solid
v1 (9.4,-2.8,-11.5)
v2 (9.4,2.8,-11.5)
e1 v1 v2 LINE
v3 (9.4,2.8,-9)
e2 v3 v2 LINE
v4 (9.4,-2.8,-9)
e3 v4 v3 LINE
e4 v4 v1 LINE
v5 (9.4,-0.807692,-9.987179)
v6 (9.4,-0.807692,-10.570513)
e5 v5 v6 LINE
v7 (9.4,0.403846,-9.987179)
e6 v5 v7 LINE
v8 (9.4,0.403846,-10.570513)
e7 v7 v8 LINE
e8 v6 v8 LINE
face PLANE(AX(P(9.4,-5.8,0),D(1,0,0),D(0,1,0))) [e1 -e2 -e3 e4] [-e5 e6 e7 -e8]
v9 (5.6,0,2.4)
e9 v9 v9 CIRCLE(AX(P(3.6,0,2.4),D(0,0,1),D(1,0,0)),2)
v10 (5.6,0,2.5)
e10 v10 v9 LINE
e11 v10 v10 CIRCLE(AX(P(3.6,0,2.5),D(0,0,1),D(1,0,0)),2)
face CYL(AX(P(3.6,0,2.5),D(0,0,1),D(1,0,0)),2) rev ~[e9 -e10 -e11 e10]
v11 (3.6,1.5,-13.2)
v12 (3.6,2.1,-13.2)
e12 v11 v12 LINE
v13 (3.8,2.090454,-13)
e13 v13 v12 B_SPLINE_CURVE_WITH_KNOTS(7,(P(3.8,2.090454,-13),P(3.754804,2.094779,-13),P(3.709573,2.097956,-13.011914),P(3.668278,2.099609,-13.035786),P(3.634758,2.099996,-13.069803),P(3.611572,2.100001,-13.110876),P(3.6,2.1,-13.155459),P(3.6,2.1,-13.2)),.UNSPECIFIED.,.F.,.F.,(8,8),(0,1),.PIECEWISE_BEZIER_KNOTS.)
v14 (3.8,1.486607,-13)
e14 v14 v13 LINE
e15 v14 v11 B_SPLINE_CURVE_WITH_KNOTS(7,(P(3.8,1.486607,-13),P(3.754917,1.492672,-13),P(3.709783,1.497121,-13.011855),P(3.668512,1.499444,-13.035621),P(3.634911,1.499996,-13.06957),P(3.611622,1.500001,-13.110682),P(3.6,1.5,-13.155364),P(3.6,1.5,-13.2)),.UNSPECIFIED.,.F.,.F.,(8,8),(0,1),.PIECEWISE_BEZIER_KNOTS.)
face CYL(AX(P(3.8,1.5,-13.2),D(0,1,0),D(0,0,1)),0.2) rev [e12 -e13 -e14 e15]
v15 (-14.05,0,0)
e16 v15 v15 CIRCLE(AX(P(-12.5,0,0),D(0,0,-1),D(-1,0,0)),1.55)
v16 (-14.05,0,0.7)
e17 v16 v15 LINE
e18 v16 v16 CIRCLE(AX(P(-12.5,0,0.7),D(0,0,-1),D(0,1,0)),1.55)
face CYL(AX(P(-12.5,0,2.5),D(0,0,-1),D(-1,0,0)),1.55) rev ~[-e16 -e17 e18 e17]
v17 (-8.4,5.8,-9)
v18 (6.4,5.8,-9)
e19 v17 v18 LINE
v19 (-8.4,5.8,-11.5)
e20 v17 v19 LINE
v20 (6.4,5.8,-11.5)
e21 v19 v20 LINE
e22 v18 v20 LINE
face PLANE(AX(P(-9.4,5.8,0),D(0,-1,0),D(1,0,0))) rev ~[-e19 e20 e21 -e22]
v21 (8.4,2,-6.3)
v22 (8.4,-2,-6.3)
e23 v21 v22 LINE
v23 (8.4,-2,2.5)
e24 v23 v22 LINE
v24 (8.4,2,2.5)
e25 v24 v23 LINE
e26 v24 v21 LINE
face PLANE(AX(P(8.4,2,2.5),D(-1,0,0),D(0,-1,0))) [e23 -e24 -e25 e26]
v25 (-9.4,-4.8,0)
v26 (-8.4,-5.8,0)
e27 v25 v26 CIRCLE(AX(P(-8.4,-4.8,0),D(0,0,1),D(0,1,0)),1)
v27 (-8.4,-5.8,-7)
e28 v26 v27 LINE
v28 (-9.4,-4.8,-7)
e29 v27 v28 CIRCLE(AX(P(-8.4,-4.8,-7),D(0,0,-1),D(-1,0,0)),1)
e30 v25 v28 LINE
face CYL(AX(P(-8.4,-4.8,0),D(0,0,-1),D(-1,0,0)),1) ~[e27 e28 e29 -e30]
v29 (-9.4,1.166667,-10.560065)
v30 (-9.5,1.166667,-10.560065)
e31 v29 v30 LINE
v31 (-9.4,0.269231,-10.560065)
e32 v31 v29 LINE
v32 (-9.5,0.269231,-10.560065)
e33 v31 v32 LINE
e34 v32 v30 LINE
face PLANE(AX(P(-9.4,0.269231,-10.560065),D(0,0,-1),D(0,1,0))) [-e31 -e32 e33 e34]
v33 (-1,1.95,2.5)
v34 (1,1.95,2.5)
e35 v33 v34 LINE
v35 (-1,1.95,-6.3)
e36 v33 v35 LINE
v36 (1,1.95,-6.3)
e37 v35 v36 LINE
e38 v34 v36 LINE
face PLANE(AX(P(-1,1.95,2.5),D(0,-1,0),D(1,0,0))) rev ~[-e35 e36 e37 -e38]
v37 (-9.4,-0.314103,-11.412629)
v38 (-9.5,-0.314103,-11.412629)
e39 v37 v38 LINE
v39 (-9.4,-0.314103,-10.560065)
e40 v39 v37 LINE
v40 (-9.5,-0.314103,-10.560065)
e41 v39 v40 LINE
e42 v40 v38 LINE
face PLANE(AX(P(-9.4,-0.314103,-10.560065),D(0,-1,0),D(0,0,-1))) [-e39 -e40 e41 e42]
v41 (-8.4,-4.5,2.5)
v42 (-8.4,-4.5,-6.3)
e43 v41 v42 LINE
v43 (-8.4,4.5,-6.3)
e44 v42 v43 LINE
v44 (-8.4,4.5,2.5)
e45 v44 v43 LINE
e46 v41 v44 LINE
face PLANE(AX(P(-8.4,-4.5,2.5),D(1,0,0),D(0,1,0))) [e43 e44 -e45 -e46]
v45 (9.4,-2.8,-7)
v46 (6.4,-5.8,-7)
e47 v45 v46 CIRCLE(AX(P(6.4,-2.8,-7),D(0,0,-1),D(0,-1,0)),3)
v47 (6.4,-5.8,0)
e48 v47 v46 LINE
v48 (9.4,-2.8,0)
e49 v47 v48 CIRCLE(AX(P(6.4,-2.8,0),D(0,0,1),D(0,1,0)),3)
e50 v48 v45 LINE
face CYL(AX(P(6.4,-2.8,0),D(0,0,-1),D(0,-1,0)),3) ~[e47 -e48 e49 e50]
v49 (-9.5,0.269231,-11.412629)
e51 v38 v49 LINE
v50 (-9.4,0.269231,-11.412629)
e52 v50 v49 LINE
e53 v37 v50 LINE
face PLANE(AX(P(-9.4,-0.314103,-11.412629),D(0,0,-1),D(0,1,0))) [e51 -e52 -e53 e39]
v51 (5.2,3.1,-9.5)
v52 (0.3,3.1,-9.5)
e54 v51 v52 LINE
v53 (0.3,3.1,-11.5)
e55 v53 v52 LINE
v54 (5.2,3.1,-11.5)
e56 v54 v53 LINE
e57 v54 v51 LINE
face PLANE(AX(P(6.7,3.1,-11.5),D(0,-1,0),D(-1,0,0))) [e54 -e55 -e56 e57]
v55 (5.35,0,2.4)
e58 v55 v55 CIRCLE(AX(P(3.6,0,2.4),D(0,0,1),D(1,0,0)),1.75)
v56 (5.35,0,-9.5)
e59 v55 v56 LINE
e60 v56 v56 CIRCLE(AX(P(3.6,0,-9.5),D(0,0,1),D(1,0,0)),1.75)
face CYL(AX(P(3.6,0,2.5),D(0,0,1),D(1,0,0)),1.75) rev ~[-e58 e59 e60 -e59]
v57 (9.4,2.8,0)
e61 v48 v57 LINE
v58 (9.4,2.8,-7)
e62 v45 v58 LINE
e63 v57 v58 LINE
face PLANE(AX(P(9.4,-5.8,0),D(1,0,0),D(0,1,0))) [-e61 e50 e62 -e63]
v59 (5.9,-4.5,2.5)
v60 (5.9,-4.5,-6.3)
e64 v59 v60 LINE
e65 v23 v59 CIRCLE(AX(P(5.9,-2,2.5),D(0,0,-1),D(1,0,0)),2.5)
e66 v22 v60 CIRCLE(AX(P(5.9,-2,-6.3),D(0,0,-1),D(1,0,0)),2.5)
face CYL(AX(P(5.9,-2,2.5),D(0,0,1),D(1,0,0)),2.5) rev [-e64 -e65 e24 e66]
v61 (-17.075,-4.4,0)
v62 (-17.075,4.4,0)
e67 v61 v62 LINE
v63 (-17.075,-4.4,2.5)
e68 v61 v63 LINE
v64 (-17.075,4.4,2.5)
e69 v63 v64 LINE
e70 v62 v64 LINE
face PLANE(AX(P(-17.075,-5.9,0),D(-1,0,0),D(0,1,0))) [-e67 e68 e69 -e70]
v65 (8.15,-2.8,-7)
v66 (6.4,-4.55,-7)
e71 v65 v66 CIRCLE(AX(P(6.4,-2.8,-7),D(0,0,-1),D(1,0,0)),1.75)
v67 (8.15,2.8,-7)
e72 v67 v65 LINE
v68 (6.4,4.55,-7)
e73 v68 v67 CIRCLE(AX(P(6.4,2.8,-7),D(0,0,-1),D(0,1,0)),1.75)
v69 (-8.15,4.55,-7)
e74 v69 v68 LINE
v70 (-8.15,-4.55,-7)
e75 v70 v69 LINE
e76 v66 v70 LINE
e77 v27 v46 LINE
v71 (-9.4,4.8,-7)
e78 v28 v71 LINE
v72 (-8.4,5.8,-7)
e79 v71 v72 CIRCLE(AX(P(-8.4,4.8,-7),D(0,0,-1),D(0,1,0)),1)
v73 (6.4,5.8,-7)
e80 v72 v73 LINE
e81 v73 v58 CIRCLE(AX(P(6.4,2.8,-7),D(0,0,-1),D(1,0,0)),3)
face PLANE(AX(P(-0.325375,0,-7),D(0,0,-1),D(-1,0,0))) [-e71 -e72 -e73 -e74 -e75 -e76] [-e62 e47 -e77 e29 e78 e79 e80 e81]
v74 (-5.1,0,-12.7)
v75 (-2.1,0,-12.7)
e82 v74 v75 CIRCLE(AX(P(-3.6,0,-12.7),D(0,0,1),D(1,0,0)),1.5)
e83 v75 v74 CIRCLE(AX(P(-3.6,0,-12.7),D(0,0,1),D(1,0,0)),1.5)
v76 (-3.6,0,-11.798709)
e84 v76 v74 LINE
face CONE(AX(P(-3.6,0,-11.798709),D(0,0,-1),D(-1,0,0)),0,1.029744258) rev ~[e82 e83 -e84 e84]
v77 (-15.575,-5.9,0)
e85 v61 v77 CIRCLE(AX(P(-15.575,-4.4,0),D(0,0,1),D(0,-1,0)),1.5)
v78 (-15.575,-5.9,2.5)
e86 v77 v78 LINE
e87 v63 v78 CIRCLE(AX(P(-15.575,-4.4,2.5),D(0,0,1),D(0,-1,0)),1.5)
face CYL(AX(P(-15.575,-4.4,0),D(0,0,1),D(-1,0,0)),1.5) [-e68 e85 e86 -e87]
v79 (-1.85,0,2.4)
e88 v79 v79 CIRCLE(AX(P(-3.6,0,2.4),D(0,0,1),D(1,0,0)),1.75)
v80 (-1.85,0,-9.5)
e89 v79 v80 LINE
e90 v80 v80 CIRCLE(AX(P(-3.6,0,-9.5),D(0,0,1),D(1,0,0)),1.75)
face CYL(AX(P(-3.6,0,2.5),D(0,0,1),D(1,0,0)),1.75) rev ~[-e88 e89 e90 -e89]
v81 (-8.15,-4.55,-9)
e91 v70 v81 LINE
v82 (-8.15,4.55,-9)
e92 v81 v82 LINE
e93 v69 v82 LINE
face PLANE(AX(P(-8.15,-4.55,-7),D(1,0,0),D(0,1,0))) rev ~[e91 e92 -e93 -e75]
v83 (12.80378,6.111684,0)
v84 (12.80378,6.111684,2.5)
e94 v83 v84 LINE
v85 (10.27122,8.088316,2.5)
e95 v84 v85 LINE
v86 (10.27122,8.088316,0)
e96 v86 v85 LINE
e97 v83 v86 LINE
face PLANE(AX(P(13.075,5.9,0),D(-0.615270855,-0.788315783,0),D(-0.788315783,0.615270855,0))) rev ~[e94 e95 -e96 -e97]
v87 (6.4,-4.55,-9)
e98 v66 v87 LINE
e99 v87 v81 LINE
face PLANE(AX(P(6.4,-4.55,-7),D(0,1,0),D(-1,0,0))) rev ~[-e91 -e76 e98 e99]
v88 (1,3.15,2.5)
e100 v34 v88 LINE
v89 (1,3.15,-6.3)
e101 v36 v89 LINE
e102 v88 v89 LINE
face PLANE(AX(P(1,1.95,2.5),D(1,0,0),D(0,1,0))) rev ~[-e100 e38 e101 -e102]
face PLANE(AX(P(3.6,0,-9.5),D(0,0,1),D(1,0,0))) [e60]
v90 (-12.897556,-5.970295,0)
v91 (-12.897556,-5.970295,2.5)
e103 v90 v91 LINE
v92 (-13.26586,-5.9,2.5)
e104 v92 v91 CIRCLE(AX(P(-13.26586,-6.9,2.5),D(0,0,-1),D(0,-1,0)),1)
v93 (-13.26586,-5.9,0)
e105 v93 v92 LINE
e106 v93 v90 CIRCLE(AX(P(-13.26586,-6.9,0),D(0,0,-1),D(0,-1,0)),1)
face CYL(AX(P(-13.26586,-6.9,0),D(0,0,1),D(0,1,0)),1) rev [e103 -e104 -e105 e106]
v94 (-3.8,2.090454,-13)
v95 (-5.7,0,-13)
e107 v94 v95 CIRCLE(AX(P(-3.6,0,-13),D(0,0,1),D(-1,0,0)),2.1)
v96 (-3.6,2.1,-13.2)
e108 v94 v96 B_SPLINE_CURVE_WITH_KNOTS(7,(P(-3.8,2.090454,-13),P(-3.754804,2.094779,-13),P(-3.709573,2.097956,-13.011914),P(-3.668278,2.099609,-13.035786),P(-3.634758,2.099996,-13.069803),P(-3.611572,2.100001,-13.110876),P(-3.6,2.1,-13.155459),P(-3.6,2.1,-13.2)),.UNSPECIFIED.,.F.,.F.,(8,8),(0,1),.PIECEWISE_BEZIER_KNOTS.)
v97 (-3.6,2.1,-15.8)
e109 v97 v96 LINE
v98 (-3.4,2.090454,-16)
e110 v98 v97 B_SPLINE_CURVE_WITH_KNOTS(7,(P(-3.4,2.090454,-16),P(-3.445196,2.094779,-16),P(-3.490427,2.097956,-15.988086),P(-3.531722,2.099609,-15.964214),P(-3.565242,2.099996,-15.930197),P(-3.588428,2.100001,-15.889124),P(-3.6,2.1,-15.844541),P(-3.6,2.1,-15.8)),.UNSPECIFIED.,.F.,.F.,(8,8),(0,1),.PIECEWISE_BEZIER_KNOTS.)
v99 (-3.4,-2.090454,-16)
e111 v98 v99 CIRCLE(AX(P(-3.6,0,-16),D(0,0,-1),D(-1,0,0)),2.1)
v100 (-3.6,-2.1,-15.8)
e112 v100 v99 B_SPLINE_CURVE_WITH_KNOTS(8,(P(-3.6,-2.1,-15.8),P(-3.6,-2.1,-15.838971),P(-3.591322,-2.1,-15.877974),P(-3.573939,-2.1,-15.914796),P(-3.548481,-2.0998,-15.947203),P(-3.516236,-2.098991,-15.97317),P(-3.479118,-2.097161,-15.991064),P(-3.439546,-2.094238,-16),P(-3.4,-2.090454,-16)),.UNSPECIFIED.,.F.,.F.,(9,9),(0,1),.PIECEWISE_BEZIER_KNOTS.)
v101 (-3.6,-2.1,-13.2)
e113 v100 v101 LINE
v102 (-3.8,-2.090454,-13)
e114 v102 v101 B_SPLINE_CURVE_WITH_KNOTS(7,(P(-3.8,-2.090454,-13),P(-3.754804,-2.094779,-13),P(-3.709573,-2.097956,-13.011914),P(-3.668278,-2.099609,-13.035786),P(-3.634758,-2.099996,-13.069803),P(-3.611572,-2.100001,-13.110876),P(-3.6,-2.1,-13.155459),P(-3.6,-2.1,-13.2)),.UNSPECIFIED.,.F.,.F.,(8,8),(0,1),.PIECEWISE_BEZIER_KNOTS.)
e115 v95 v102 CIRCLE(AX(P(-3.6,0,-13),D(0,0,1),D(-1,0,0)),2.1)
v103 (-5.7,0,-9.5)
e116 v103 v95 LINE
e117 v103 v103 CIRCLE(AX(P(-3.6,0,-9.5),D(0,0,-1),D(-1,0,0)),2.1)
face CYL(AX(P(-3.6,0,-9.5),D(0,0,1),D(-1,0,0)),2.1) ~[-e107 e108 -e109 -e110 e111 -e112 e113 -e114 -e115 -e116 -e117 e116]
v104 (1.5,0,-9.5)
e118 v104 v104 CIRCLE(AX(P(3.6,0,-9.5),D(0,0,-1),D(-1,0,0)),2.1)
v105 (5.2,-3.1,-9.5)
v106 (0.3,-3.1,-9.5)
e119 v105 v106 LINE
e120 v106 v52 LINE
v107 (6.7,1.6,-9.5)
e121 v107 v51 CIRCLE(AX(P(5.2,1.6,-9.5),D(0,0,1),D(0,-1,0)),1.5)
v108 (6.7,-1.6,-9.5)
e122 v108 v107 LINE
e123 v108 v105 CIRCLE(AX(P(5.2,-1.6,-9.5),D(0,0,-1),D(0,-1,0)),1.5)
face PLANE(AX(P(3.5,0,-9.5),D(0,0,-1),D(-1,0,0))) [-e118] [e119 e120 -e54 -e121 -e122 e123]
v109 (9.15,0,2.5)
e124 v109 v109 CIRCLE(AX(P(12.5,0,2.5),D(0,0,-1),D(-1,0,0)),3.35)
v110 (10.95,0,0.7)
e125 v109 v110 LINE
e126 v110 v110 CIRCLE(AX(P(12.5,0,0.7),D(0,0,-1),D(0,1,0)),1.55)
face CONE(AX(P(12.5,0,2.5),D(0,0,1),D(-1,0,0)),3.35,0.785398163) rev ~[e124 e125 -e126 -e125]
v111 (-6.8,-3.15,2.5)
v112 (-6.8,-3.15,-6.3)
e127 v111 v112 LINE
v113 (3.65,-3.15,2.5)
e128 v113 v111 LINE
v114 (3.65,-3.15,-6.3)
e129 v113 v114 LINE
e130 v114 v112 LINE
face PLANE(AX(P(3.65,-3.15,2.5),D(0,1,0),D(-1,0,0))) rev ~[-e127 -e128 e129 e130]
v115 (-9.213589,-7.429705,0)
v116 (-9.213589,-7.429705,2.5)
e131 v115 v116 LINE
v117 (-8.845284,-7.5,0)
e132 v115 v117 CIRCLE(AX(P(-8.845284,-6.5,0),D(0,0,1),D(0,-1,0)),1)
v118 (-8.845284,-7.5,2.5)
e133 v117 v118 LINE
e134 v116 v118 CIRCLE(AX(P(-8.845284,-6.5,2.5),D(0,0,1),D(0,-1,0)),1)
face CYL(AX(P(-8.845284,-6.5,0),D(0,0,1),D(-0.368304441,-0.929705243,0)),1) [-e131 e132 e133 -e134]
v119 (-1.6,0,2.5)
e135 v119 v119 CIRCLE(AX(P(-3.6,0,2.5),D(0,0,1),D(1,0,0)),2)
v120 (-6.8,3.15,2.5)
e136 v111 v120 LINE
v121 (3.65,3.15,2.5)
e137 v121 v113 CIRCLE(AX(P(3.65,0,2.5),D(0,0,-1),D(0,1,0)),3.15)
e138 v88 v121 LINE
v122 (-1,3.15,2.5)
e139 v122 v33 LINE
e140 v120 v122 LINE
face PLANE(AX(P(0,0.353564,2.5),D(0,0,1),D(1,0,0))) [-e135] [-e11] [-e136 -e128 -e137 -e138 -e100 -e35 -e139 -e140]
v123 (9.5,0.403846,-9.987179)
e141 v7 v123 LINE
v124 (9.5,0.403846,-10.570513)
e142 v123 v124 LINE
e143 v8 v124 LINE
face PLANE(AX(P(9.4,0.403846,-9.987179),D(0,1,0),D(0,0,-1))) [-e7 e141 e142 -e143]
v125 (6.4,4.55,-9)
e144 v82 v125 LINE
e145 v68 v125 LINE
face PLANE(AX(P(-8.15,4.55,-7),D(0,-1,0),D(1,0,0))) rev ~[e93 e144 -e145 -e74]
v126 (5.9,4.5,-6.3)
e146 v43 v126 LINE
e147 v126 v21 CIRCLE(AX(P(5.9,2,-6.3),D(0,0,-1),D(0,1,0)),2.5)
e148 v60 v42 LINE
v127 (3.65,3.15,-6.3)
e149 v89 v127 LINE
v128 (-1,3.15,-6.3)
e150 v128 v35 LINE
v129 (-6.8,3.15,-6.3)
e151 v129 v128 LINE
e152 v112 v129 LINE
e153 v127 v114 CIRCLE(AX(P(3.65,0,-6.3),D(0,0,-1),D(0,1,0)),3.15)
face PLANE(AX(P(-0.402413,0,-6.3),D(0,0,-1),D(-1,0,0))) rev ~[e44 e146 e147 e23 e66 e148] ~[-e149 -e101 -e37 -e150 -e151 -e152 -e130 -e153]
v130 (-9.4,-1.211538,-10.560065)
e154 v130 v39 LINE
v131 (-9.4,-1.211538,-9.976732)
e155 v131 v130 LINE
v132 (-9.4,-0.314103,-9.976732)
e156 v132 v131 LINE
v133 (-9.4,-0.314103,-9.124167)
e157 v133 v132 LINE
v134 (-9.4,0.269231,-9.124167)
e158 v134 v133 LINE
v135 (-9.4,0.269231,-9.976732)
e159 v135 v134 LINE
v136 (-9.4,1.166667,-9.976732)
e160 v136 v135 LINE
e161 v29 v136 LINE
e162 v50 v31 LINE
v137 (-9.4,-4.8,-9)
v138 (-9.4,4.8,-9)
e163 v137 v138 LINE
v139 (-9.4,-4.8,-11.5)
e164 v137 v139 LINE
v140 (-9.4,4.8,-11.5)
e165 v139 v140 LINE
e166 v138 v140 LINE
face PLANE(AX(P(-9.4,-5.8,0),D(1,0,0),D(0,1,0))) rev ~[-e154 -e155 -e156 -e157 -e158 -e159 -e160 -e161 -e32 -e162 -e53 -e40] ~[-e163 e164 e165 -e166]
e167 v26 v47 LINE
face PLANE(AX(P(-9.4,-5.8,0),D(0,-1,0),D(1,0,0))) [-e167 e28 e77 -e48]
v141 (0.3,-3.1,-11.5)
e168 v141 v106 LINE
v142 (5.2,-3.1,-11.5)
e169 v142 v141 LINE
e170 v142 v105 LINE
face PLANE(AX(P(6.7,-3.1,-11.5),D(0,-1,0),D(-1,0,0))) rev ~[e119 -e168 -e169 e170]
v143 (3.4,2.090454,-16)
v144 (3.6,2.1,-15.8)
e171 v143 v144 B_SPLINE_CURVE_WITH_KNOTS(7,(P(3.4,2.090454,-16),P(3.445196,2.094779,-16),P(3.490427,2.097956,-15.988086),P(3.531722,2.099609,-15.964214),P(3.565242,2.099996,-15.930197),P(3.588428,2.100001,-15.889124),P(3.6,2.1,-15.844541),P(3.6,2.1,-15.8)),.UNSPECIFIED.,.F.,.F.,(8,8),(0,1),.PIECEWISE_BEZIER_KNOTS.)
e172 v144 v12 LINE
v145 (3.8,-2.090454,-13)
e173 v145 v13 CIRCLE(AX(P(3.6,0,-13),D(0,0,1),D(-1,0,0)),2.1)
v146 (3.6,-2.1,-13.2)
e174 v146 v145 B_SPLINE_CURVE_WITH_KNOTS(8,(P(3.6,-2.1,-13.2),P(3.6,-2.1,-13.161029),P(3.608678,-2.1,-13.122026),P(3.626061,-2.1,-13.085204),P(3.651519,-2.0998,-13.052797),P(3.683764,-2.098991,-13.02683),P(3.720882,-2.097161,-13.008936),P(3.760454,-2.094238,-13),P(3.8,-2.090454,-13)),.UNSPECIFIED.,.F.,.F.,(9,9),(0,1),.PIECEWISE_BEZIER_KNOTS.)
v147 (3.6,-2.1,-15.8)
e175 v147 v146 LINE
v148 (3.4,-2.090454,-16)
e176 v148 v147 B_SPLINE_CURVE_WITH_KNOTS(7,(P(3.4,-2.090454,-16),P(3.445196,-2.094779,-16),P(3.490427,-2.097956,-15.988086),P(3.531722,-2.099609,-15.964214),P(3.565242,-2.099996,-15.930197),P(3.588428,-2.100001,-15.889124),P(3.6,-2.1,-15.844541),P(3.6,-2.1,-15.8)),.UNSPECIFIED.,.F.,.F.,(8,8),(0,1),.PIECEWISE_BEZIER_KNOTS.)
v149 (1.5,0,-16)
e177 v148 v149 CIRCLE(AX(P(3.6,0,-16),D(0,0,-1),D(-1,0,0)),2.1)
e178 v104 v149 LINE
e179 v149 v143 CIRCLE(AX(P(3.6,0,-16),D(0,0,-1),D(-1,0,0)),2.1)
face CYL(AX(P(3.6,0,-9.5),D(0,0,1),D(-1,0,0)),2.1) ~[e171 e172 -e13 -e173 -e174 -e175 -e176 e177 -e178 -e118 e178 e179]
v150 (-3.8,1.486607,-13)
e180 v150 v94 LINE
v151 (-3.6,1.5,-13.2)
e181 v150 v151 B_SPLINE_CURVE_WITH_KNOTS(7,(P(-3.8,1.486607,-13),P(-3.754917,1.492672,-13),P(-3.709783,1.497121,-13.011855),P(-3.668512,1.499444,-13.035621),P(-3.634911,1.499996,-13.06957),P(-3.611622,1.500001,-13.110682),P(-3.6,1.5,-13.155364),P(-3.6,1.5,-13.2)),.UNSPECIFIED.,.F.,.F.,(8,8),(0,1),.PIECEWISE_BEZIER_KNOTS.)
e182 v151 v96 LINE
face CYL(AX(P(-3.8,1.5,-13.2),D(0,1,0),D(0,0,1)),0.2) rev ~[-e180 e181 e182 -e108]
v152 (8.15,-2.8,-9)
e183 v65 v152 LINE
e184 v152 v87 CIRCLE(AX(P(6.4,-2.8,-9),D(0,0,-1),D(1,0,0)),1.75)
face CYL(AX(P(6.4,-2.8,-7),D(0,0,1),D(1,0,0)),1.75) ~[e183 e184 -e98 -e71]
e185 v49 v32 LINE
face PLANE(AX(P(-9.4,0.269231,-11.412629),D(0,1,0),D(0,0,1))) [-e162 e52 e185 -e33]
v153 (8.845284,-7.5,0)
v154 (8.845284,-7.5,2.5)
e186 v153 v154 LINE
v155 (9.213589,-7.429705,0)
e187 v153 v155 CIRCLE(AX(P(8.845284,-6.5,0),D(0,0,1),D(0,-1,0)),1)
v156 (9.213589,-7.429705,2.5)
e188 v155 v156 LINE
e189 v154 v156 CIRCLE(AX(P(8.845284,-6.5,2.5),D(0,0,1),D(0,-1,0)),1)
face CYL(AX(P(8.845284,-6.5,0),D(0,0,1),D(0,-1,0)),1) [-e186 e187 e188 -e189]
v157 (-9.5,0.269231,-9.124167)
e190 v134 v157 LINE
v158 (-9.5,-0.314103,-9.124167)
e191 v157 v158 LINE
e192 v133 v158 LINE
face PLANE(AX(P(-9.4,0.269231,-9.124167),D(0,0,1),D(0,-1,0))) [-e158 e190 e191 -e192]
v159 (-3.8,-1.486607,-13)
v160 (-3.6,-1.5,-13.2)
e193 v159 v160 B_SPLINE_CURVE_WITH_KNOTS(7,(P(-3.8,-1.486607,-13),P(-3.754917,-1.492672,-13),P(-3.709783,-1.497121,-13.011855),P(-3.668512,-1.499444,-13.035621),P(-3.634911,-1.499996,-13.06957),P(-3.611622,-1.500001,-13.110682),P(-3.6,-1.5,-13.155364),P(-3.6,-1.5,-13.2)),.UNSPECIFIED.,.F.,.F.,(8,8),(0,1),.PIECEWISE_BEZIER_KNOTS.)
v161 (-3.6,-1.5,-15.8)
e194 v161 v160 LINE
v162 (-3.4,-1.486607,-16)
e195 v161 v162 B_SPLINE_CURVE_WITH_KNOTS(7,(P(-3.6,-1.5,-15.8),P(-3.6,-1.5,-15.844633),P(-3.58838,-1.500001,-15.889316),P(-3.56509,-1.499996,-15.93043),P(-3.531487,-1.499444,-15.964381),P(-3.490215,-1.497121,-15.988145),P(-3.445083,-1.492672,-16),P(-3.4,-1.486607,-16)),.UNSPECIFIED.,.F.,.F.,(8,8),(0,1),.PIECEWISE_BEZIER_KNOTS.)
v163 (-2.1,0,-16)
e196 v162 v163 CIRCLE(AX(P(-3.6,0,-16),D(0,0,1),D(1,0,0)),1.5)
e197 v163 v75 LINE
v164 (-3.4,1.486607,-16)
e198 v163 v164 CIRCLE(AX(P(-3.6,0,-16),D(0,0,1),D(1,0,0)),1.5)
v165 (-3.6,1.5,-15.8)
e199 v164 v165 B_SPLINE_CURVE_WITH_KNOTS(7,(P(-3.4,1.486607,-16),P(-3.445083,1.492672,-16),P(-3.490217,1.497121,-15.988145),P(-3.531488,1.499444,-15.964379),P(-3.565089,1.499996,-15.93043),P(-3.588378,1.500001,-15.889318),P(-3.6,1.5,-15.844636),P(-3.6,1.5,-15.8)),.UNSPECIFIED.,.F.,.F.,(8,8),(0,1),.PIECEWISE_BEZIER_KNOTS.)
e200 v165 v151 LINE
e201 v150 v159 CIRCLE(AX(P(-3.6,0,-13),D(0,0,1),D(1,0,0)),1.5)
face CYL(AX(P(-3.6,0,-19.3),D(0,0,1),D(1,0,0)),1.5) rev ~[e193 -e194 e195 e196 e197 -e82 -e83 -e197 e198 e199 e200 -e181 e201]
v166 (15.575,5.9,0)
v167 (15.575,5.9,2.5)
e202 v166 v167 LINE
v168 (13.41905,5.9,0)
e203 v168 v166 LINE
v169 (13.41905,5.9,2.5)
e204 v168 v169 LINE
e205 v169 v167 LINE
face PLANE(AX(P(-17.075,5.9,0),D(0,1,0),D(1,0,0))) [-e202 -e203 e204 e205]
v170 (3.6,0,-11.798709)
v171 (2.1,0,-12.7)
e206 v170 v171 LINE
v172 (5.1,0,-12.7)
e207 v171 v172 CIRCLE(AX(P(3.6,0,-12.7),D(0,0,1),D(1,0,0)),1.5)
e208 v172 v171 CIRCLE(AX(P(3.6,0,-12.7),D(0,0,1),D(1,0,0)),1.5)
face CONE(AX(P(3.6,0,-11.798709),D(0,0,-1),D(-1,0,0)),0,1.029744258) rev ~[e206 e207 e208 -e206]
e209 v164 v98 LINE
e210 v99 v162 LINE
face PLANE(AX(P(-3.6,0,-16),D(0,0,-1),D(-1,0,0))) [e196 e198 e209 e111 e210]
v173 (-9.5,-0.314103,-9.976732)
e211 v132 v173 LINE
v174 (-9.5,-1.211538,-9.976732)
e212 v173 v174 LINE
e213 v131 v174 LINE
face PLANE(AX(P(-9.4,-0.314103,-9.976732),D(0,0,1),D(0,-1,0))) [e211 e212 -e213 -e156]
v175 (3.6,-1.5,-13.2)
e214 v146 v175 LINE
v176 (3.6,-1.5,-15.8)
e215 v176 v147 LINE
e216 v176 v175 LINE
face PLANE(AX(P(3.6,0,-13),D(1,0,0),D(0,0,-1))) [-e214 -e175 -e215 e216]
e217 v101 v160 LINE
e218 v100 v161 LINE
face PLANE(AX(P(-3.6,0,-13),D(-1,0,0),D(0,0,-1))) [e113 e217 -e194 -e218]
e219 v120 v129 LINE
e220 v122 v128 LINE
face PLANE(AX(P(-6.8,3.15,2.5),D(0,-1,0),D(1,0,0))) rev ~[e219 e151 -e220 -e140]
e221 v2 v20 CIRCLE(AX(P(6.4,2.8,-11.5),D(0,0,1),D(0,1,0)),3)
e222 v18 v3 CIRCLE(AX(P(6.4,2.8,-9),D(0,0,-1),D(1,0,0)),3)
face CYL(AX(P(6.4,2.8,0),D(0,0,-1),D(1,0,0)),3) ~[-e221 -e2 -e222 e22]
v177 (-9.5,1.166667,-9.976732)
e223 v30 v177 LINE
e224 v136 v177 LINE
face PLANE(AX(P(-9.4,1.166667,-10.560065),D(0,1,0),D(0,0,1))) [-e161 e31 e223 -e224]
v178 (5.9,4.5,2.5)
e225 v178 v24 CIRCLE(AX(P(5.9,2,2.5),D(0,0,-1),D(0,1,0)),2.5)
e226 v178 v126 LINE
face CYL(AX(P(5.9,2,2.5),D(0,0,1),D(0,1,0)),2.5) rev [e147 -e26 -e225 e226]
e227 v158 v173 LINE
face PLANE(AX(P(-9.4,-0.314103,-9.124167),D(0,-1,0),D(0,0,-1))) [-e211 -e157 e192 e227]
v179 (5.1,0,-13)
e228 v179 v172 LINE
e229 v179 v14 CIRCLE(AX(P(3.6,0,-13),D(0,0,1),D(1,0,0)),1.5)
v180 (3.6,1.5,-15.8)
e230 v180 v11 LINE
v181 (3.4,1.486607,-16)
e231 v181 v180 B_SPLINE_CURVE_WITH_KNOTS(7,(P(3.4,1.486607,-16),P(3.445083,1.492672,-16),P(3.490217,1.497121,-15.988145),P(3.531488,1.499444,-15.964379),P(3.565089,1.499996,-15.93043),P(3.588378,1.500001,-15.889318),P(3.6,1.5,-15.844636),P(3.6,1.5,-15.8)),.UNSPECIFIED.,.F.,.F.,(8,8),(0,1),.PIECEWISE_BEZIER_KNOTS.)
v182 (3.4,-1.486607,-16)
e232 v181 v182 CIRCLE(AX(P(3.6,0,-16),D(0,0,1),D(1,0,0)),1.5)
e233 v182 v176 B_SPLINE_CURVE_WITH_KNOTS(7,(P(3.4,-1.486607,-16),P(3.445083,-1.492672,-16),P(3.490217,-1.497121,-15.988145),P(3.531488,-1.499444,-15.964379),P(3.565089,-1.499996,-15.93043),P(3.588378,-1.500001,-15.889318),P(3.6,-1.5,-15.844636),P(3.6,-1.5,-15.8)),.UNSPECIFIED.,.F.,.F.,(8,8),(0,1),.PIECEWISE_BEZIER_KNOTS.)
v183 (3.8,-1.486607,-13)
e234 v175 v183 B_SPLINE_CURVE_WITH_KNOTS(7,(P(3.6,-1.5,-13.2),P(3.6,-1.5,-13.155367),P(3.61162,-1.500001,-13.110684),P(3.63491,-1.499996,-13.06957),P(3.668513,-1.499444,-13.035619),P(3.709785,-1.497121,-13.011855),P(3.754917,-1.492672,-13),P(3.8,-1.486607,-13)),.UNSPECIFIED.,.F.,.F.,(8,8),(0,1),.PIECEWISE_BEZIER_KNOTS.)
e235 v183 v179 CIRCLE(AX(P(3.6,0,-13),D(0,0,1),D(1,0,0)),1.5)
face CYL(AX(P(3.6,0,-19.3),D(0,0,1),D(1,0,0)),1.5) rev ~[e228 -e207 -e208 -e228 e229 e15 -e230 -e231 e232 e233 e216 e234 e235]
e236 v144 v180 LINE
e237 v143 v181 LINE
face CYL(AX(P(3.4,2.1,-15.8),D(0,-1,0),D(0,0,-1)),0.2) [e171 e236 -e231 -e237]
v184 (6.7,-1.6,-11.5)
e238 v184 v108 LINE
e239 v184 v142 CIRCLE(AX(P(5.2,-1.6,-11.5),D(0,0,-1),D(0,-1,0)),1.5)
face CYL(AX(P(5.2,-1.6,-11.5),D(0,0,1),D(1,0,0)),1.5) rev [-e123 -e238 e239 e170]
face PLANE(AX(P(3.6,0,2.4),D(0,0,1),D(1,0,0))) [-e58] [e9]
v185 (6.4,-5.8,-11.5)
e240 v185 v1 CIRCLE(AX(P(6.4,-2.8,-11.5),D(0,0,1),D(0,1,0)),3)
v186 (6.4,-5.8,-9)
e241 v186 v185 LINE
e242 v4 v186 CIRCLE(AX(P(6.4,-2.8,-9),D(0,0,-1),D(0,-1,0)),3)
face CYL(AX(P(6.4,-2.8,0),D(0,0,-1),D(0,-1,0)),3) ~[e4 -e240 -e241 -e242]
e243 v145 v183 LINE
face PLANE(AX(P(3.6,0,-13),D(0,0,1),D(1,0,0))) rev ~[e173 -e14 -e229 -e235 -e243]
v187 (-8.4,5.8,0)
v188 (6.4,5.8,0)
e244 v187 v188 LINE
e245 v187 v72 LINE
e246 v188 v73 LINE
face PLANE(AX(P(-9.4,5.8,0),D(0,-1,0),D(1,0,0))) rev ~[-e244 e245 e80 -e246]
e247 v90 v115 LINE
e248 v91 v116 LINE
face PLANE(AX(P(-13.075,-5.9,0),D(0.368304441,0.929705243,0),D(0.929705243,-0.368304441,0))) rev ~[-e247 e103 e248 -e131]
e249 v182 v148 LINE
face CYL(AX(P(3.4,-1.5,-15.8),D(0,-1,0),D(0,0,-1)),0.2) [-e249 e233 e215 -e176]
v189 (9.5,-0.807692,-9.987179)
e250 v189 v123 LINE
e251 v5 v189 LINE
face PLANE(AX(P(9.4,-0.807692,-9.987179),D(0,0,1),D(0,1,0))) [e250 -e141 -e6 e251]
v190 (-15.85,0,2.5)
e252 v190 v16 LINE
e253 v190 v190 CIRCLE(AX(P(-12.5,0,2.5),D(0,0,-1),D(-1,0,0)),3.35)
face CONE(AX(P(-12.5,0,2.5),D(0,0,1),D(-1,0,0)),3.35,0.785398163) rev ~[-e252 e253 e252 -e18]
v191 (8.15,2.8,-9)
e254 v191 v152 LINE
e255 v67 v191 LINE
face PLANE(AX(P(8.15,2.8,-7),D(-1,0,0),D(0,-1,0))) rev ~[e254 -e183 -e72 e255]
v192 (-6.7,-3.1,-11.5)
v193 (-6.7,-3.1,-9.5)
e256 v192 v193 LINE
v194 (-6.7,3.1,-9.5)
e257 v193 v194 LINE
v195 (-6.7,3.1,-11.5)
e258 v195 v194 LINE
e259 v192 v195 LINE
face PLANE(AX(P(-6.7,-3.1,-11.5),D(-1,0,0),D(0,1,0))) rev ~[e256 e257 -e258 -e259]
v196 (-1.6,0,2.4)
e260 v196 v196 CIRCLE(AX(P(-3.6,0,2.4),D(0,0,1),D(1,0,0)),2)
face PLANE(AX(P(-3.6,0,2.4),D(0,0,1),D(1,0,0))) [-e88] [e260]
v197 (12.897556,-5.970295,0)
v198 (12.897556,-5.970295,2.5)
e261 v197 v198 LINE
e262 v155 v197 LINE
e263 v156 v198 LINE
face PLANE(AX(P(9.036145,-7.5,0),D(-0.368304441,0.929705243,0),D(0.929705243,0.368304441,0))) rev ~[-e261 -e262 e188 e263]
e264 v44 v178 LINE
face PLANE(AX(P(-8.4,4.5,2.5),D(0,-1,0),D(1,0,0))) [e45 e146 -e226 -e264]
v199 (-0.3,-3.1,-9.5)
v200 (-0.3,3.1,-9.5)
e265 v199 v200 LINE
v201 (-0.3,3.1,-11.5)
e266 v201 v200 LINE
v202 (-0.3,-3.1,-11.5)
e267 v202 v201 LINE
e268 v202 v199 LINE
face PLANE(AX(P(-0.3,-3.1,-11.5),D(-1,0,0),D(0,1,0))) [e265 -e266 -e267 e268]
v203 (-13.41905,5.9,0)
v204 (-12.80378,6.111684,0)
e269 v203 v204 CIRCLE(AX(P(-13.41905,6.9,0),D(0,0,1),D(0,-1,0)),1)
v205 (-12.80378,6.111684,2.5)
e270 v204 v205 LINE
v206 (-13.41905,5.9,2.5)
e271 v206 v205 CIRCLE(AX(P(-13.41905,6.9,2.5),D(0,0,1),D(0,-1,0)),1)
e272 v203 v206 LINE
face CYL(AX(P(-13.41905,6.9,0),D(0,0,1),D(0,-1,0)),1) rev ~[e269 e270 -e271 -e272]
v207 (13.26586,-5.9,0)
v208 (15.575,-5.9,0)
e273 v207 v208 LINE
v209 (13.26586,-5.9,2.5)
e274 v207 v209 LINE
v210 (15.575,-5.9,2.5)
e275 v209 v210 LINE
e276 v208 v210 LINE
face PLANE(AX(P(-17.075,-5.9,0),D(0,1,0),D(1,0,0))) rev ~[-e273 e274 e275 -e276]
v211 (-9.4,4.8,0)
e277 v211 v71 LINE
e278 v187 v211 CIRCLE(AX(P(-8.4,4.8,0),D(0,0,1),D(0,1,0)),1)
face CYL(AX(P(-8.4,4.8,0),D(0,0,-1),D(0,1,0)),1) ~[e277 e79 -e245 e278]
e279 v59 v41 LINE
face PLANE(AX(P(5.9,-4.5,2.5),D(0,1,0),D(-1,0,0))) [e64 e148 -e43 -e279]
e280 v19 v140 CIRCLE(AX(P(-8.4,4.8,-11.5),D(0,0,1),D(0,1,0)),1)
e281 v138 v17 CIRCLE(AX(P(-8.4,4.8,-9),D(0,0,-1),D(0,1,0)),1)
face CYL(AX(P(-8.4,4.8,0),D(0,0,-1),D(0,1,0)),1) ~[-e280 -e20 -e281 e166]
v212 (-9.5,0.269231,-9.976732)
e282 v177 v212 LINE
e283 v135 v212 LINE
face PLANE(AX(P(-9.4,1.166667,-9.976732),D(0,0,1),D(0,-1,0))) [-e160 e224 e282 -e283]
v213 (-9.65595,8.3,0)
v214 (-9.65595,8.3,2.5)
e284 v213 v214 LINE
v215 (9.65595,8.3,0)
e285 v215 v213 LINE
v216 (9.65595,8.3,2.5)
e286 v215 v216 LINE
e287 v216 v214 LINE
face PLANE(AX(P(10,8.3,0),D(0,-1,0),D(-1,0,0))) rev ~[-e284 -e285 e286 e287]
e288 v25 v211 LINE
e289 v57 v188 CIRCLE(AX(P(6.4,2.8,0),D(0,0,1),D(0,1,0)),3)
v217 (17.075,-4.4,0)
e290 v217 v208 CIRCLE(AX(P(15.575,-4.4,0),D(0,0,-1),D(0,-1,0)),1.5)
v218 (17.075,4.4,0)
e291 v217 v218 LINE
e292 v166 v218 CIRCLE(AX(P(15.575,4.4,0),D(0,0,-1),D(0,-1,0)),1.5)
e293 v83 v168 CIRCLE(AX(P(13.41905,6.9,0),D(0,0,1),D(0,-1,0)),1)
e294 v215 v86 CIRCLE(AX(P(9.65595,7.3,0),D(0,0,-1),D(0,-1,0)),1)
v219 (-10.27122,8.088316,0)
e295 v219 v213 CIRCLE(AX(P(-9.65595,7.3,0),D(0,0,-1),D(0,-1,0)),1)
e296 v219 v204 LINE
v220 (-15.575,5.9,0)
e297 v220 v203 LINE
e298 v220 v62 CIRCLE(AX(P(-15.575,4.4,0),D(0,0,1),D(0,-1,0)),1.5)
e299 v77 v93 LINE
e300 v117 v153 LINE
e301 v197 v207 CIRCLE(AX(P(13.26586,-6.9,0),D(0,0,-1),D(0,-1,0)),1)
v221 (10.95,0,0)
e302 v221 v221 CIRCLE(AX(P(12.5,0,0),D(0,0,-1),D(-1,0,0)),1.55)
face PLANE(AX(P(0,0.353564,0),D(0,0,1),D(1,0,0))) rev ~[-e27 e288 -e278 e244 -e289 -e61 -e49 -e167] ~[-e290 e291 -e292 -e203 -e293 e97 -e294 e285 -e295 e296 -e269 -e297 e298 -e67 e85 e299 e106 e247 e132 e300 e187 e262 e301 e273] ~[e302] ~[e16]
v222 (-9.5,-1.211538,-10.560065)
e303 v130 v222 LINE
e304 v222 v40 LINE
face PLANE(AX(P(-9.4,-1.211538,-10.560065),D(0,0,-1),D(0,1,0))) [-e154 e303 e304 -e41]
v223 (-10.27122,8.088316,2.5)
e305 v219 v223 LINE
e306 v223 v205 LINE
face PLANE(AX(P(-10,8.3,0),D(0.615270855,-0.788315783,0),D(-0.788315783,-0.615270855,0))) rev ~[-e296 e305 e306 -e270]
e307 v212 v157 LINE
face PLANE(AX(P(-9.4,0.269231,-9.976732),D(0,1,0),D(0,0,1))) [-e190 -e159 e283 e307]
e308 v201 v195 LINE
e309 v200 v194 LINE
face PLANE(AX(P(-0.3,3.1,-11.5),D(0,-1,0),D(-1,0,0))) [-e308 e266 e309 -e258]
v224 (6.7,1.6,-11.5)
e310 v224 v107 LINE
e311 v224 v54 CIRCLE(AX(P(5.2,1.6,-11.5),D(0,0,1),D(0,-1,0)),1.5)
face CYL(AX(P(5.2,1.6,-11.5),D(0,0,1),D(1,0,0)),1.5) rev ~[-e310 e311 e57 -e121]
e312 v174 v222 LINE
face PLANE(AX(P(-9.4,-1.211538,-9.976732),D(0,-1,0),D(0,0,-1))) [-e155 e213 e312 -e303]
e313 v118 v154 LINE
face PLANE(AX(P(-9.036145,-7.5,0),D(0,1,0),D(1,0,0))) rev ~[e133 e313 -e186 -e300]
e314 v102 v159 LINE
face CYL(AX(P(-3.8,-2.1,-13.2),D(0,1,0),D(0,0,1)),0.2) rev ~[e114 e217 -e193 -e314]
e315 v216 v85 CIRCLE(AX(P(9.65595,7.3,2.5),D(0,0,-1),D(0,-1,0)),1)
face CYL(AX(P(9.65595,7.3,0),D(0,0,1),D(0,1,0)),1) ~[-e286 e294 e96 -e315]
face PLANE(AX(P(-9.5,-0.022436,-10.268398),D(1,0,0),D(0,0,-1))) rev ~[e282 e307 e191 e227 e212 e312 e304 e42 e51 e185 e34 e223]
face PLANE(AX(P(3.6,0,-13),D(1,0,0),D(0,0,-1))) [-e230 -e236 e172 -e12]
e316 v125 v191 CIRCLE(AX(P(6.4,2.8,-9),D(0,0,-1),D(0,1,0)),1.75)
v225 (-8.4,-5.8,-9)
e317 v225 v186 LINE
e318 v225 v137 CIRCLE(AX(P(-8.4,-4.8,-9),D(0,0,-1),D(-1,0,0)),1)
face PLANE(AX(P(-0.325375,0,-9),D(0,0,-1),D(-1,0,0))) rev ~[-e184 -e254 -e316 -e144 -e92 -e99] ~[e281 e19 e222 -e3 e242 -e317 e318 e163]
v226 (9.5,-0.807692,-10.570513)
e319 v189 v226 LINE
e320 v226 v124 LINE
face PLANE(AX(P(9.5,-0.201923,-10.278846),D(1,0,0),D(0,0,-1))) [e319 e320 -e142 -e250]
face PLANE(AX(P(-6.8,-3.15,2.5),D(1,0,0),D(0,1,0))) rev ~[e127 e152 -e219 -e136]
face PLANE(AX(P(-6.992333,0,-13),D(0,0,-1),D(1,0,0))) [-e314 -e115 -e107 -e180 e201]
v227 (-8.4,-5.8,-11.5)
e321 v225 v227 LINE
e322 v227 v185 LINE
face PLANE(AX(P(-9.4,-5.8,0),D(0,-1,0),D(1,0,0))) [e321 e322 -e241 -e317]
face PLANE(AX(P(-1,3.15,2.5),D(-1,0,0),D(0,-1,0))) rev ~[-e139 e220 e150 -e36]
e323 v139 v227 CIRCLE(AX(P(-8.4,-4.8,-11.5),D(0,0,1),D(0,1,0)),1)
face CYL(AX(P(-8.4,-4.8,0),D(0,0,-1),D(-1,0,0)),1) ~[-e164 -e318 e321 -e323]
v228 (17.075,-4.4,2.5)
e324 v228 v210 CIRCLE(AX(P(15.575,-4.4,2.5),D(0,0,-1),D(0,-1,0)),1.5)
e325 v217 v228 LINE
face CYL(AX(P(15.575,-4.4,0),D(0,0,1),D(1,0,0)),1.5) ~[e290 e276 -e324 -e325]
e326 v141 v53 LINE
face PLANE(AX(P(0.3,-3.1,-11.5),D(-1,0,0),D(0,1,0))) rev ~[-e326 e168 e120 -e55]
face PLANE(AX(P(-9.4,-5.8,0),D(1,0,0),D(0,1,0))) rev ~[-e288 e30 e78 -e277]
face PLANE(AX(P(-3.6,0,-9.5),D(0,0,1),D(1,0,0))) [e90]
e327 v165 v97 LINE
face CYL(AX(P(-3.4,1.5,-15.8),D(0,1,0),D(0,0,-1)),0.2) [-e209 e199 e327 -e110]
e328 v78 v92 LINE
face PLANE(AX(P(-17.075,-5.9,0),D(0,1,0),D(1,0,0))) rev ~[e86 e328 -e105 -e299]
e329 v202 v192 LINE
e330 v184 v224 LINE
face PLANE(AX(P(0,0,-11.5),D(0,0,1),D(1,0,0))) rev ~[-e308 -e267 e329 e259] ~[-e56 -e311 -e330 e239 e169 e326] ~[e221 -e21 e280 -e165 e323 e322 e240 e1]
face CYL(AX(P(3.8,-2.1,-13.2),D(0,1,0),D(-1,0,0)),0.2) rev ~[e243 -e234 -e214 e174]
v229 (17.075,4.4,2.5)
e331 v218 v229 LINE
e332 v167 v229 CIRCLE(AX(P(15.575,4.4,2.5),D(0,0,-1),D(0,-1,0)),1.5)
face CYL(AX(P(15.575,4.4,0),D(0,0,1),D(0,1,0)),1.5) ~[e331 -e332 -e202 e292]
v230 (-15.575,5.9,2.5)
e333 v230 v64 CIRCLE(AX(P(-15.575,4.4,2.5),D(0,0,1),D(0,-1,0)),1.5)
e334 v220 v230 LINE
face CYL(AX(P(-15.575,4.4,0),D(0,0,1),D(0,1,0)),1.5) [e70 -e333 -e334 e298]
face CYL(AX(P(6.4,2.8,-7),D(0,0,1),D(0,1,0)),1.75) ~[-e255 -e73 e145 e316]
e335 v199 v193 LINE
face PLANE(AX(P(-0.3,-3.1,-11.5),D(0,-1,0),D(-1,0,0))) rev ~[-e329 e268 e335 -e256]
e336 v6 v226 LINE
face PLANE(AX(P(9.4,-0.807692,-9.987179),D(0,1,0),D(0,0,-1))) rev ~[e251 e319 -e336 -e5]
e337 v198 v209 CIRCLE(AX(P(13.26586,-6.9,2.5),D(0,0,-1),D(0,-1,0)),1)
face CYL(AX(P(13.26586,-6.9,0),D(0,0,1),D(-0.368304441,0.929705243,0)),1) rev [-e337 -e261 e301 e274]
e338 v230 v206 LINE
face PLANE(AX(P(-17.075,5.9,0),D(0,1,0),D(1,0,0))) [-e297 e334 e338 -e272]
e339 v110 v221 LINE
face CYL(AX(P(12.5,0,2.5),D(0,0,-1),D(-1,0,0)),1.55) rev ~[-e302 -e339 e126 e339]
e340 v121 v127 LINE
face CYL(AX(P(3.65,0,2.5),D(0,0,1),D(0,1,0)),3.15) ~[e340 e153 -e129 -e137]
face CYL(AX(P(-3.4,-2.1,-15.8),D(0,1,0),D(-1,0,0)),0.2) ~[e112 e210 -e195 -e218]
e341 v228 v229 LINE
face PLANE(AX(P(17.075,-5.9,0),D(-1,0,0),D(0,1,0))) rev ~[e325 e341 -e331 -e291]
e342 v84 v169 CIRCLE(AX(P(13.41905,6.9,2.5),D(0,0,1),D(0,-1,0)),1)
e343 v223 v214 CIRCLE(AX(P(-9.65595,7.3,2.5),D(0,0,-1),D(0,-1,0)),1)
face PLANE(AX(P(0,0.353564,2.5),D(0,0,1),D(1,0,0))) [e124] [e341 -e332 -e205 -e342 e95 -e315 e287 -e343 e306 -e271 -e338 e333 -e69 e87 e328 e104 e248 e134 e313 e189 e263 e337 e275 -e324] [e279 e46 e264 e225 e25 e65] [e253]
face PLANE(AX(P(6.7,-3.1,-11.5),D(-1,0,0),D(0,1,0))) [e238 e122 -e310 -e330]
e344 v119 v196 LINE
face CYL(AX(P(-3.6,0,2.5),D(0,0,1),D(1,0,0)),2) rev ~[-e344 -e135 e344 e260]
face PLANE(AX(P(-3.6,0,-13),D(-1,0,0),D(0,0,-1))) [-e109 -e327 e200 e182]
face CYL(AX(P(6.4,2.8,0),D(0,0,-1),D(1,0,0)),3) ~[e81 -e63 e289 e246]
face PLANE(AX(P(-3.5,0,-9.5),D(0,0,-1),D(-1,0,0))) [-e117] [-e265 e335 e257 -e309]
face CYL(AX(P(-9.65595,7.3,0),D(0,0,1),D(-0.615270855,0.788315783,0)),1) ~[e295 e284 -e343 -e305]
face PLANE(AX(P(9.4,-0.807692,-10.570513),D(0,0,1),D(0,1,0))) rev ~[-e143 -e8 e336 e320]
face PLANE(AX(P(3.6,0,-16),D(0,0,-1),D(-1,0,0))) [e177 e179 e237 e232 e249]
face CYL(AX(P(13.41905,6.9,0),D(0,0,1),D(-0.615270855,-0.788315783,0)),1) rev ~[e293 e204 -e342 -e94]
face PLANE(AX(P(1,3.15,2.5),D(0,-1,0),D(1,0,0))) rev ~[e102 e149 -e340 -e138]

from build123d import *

# Parameters (mm, degrees)
SKETCH1_W                                            = 18.8
SKETCH1_H                                            = 11.6
BOSS_EXTRUDE1_DEPTH                                  = 11.5
SKETCH2_W                                            = 34.15
SKETCH2_H                                            = 11.8
BOSS_EXTRUDE2_DEPTH                                  = 2.5
BOSS_EXTRUDE3_DEPTH                                  = 2.5
FILLET1_R                                            = 1.5
FILLET2_R                                            = 1
CSK_FOR_M3_HEX_SOCKET_COUNTERSUNK_HEAD_S_D           = 3.1
CSK_FOR_M3_HEX_SOCKET_COUNTERSUNK_HEAD_S_CSINK_D     = 6.7
CSK_FOR_M3_HEX_SOCKET_COUNTERSUNK_HEAD_S_CSINK_ANGLE = 90
FILLET3_R                                            = 3
FILLET4_R                                            = 1
CUT_EXTRUDE1_DEPTH                                   = 2
SKETCH7_W                                            = 6.4
SKETCH7_H                                            = 6.2
CUT_EXTRUDE2_DEPTH                                   = 2
FILLET5_R                                            = 1.5
SKETCH8_R                                            = 2.1
BOSS_EXTRUDE4_DEPTH                                  = 6.5
F_3_0MM_DOWEL_HOLE1_D                                = 3
F_3_0MM_DOWEL_HOLE1_DEPTH                            = 3.3
F_3_0MM_DOWEL_HOLE1_TIP                              = 0.901290929
SKETCH11_W                                           = 3.39233295
SKETCH11_H                                           = 4.331282249
SKETCH11_W_2                                         = 2.756270522
SKETCH11_H_2                                         = 5.335422798
CUT_EXTRUDE3_DEPTH                                   = 3.25
FILLET6_R                                            = 0.2
CUT_EXTRUDE6_DEPTH                                   = 8.8
SKETCH13_R                                           = 2
CUT_EXTRUDE7_DEPTH                                   = 0.1
SKETCH14_R                                           = 1.75
CUT_EXTRUDE8_DEPTH                                   = 12
SKETCH15_W                                           = 0.583333334
SKETCH15_H                                           = 1.211538462
BOSS_EXTRUDE5_DEPTH                                  = 0.1
BOSS_EXTRUDE6_DEPTH                                  = 0.1


with BuildPart() as part:
    # Sketch1 → Boss-Extrude1 (new body)
    with BuildSketch(Plane.XY):
        Rectangle(SKETCH1_W, SKETCH1_H)
    extrude(amount=-BOSS_EXTRUDE1_DEPTH)

    # Sketch2 → Boss-Extrude2 (add)
    with BuildSketch(Plane.XY):
        Rectangle(SKETCH2_W, SKETCH2_H)
    extrude(amount=BOSS_EXTRUDE2_DEPTH)

    # Sketch3 → Boss-Extrude3 (add)
    with BuildSketch(Plane.XY):
        Polygon((-10, 8.3), (-13.075, 5.9), (-13.075, -5.9), (-9.036144578, -7.5), (9.036144578, -7.5), (13.075, -5.9), (13.075, 5.9), (10, 8.3), align=None)
    extrude(amount=BOSS_EXTRUDE3_DEPTH)

    # Fillet1
    fillet1_edges = [part.edges().sort_by_distance(p)[0] for p in [
        (-17.075, 5.9, 1.25),
        (-17.075, -5.9, 1.25),
        (17.075, -5.9, 1.25),
        (17.075, 5.9, 1.25),
    ]]
    fillet(fillet1_edges, radius=FILLET1_R)

    # Fillet2
    fillet2_edges = [part.edges().sort_by_distance(p)[0] for p in [
        (10, 8.3, 1.25),
        (-10, 8.3, 1.25),
        (-13.075, 5.9, 1.25),
        (-13.075, -5.9, 1.25),
        (-9.036144578, -7.5, 1.25),
        (9.036144578, -7.5, 1.25),
        (13.075, -5.9, 1.25),
        (13.075, 5.9, 1.25),
    ]]
    fillet(fillet2_edges, radius=FILLET2_R)

    # CSK for M3 Hex Socket Countersunk Head Screw1 (through all)
    with Locations(Plane.XY.offset(2.5)):
        with Locations((-12.5, 0), (12.5, 0)):
            CounterSinkHole(CSK_FOR_M3_HEX_SOCKET_COUNTERSUNK_HEAD_S_D / 2, CSK_FOR_M3_HEX_SOCKET_COUNTERSUNK_HEAD_S_CSINK_D / 2, counter_sink_angle=CSK_FOR_M3_HEX_SOCKET_COUNTERSUNK_HEAD_S_CSINK_ANGLE)

    # Fillet3
    fillet3_edges = [part.edges().sort_by_distance(p)[0] for p in [
        (9.4, 5.8, -5.75),
        (9.4, -5.8, -5.75),
    ]]
    fillet(fillet3_edges, radius=FILLET3_R)

    # Fillet4
    fillet4_edges = [part.edges().sort_by_distance(p)[0] for p in [
        (-9.4, 5.8, -5.75),
        (-9.4, -5.8, -5.75),
    ]]
    fillet(fillet4_edges, radius=FILLET4_R)

    # Sketch6 → Cut-Extrude1 (cut)
    with BuildSketch(Plane(origin=(0, 0, -7), x_dir=(-1, 0, 0), z_dir=(0, 0, -1))):
        with BuildLine():
            Line((-6.4, -6.7), (8.4, -6.7))
            ThreePointArc((8.4, -6.7), (9.743502884, -6.143502884), (10.3, -4.8))
            Line((10.3, -4.8), (10.3, 4.8))
            ThreePointArc((10.3, 4.8), (9.743502884, 6.143502884), (8.4, 6.7))
            Line((8.4, 6.7), (-6.4, 6.7))
            ThreePointArc((-6.4, 6.7), (-9.157716447, 5.557716447), (-10.3, 2.8))
            Line((-10.3, 2.8), (-10.3, -2.8))
            ThreePointArc((-10.3, -2.8), (-9.157716447, -5.557716447), (-6.4, -6.7))
        make_face()
        with BuildLine():
            Line((-6.4, -4.55), (8.15, -4.55))
            Line((8.15, -4.55), (8.15, 4.55))
            Line((8.15, 4.55), (-6.4, 4.55))
            ThreePointArc((-6.4, 4.55), (-7.637436867, 4.037436867), (-8.15, 2.8))
            Line((-8.15, 2.8), (-8.15, -2.8))
            ThreePointArc((-8.15, -2.8), (-7.637436867, -4.037436867), (-6.4, -4.55))
        make_face(mode=Mode.SUBTRACT)
    extrude(amount=CUT_EXTRUDE1_DEPTH, mode=Mode.SUBTRACT)

    # Sketch7 → Cut-Extrude2 (cut)
    with BuildSketch(Plane(origin=(0, 0, -11.5), x_dir=(-1, 0, 0), z_dir=(0, 0, -1))):
        with Locations((-3.5, 0)):
            Rectangle(SKETCH7_W, SKETCH7_H)
        with Locations((3.5, 0)):
            Rectangle(SKETCH7_W, SKETCH7_H)
    extrude(amount=-CUT_EXTRUDE2_DEPTH, mode=Mode.SUBTRACT)

    # Fillet5
    fillet5_edges = [part.edges().sort_by_distance(p)[0] for p in [
        (6.7, -3.1, -10.5),
        (6.7, 3.1, -10.5),
    ]]
    fillet(fillet5_edges, radius=FILLET5_R)

    # Sketch8 → Boss-Extrude4 (add)
    with BuildSketch(Plane(origin=(0, 0, -9.5), x_dir=(-1, 0, 0), z_dir=(0, 0, -1))):
        with Locations((-3.6, 0)):
            Circle(SKETCH8_R)
        with Locations((3.6, 0)):
            Circle(SKETCH8_R)
    extrude(amount=BOSS_EXTRUDE4_DEPTH)

    # Ø3.0mm Dowel Hole1
    with Locations(Plane(origin=(0, 0, -16), x_dir=(-1, 0, 0), z_dir=(0, 0, -1))):
        with Locations((-3.6, 0), (3.6, 0)):
            Hole(F_3_0MM_DOWEL_HOLE1_D / 2, depth=F_3_0MM_DOWEL_HOLE1_DEPTH)
            with Locations((0, 0, -(F_3_0MM_DOWEL_HOLE1_DEPTH + F_3_0MM_DOWEL_HOLE1_TIP / 2))):  # 118° drill point
                Cone(0, F_3_0MM_DOWEL_HOLE1_D / 2, F_3_0MM_DOWEL_HOLE1_TIP, mode=Mode.SUBTRACT)

    # Sketch11 → Cut-Extrude3 (cut, symmetric)
    with BuildSketch(Plane(origin=(0, 0, 0), x_dir=(1, 0, 0), z_dir=(0, 1, 0))):
        with Locations((-5.296166475, 15.165641125)):
            Rectangle(SKETCH11_W, SKETCH11_H)
        with Locations((4.978135261, 15.667711399)):
            Rectangle(SKETCH11_W_2, SKETCH11_H_2)
    extrude(amount=CUT_EXTRUDE3_DEPTH, both=True, mode=Mode.SUBTRACT)

    # Fillet6
    fillet6_edges = [part.edges().sort_by_distance(p)[0] for p in [
        (-3.6, 1.8, -13),
        (-3.6, -1.8, -13),
        (-3.6, 1.8, -16),
        (-3.6, -1.8, -16),
        (3.6, 1.8, -13),
        (3.6, -1.8, -13),
        (3.6, -1.8, -16),
        (3.6, 1.8, -16),
    ]]
    fillet(fillet6_edges, radius=FILLET6_R)

    # Sketch12 → Cut-Extrude6 (cut)
    with BuildSketch(Plane.XY.offset(2.5)):
        with BuildLine():
            Line((5.9, -4.5), (-8.4, -4.5))
            Line((-8.4, -4.5), (-8.4, 4.5))
            Line((-8.4, 4.5), (5.9, 4.5))
            ThreePointArc((5.9, 4.5), (7.667766953, 3.767766953), (8.4, 2))
            Line((8.4, 2), (8.4, -2))
            ThreePointArc((8.4, -2), (7.667766953, -3.767766953), (5.9, -4.5))
        make_face()
        with BuildLine():
            Line((3.65, -3.15), (-6.8, -3.15))
            Line((-6.8, -3.15), (-6.8, 3.15))
            Line((-6.8, 3.15), (-1, 3.15))
            Line((-1, 3.15), (-1, 1.95))
            Line((-1, 1.95), (1, 1.95))
            Line((1, 1.95), (1, 3.15))
            Line((1, 3.15), (3.65, 3.15))
            ThreePointArc((3.65, 3.15), (6.8, 0), (3.65, -3.15))
        make_face(mode=Mode.SUBTRACT)
    extrude(amount=-CUT_EXTRUDE6_DEPTH, mode=Mode.SUBTRACT)

    # Sketch13 → Cut-Extrude7 (cut)
    with BuildSketch(Plane.XY.offset(2.5)):
        with Locations((-3.6, 0)):
            Circle(SKETCH13_R)
        with Locations((3.6, 0)):
            Circle(SKETCH13_R)
    extrude(amount=-CUT_EXTRUDE7_DEPTH, mode=Mode.SUBTRACT)

    # Sketch14 → Cut-Extrude8 (cut)
    with BuildSketch(Plane.XY.offset(2.5)):
        with Locations((-3.6, 0)):
            Circle(SKETCH14_R)
        with Locations((3.6, 0)):
            Circle(SKETCH14_R)
    extrude(amount=-CUT_EXTRUDE8_DEPTH, mode=Mode.SUBTRACT)

    # Sketch15 → Boss-Extrude5 (add)
    with BuildSketch(Plane(origin=(9.4, 0, 0), x_dir=(0, 0, -1), z_dir=(1, 0, 0))):
        with Locations((10.278846154, -0.201923077)):
            Rectangle(SKETCH15_W, SKETCH15_H)
    extrude(amount=BOSS_EXTRUDE5_DEPTH)

    # Sketch16 → Boss-Extrude6 (add)
    with BuildSketch(Plane.ZY.offset(9.4)):
        Polygon((-10.560064901, -0.314102564), (-11.412629003, -0.314102564), (-11.412629003, 0.269230769), (-10.560064901, 0.269230769), (-10.560064901, 1.166666667), (-9.976731567, 1.166666667), (-9.976731567, 0.269230769), (-9.124167465, 0.269230769), (-9.124167465, -0.314102564), (-9.976731567, -0.314102564), (-9.976731567, -1.211538462), (-10.560064901, -1.211538462), align=None)
    extrude(amount=BOSS_EXTRUDE6_DEPTH)


solid = part.part
